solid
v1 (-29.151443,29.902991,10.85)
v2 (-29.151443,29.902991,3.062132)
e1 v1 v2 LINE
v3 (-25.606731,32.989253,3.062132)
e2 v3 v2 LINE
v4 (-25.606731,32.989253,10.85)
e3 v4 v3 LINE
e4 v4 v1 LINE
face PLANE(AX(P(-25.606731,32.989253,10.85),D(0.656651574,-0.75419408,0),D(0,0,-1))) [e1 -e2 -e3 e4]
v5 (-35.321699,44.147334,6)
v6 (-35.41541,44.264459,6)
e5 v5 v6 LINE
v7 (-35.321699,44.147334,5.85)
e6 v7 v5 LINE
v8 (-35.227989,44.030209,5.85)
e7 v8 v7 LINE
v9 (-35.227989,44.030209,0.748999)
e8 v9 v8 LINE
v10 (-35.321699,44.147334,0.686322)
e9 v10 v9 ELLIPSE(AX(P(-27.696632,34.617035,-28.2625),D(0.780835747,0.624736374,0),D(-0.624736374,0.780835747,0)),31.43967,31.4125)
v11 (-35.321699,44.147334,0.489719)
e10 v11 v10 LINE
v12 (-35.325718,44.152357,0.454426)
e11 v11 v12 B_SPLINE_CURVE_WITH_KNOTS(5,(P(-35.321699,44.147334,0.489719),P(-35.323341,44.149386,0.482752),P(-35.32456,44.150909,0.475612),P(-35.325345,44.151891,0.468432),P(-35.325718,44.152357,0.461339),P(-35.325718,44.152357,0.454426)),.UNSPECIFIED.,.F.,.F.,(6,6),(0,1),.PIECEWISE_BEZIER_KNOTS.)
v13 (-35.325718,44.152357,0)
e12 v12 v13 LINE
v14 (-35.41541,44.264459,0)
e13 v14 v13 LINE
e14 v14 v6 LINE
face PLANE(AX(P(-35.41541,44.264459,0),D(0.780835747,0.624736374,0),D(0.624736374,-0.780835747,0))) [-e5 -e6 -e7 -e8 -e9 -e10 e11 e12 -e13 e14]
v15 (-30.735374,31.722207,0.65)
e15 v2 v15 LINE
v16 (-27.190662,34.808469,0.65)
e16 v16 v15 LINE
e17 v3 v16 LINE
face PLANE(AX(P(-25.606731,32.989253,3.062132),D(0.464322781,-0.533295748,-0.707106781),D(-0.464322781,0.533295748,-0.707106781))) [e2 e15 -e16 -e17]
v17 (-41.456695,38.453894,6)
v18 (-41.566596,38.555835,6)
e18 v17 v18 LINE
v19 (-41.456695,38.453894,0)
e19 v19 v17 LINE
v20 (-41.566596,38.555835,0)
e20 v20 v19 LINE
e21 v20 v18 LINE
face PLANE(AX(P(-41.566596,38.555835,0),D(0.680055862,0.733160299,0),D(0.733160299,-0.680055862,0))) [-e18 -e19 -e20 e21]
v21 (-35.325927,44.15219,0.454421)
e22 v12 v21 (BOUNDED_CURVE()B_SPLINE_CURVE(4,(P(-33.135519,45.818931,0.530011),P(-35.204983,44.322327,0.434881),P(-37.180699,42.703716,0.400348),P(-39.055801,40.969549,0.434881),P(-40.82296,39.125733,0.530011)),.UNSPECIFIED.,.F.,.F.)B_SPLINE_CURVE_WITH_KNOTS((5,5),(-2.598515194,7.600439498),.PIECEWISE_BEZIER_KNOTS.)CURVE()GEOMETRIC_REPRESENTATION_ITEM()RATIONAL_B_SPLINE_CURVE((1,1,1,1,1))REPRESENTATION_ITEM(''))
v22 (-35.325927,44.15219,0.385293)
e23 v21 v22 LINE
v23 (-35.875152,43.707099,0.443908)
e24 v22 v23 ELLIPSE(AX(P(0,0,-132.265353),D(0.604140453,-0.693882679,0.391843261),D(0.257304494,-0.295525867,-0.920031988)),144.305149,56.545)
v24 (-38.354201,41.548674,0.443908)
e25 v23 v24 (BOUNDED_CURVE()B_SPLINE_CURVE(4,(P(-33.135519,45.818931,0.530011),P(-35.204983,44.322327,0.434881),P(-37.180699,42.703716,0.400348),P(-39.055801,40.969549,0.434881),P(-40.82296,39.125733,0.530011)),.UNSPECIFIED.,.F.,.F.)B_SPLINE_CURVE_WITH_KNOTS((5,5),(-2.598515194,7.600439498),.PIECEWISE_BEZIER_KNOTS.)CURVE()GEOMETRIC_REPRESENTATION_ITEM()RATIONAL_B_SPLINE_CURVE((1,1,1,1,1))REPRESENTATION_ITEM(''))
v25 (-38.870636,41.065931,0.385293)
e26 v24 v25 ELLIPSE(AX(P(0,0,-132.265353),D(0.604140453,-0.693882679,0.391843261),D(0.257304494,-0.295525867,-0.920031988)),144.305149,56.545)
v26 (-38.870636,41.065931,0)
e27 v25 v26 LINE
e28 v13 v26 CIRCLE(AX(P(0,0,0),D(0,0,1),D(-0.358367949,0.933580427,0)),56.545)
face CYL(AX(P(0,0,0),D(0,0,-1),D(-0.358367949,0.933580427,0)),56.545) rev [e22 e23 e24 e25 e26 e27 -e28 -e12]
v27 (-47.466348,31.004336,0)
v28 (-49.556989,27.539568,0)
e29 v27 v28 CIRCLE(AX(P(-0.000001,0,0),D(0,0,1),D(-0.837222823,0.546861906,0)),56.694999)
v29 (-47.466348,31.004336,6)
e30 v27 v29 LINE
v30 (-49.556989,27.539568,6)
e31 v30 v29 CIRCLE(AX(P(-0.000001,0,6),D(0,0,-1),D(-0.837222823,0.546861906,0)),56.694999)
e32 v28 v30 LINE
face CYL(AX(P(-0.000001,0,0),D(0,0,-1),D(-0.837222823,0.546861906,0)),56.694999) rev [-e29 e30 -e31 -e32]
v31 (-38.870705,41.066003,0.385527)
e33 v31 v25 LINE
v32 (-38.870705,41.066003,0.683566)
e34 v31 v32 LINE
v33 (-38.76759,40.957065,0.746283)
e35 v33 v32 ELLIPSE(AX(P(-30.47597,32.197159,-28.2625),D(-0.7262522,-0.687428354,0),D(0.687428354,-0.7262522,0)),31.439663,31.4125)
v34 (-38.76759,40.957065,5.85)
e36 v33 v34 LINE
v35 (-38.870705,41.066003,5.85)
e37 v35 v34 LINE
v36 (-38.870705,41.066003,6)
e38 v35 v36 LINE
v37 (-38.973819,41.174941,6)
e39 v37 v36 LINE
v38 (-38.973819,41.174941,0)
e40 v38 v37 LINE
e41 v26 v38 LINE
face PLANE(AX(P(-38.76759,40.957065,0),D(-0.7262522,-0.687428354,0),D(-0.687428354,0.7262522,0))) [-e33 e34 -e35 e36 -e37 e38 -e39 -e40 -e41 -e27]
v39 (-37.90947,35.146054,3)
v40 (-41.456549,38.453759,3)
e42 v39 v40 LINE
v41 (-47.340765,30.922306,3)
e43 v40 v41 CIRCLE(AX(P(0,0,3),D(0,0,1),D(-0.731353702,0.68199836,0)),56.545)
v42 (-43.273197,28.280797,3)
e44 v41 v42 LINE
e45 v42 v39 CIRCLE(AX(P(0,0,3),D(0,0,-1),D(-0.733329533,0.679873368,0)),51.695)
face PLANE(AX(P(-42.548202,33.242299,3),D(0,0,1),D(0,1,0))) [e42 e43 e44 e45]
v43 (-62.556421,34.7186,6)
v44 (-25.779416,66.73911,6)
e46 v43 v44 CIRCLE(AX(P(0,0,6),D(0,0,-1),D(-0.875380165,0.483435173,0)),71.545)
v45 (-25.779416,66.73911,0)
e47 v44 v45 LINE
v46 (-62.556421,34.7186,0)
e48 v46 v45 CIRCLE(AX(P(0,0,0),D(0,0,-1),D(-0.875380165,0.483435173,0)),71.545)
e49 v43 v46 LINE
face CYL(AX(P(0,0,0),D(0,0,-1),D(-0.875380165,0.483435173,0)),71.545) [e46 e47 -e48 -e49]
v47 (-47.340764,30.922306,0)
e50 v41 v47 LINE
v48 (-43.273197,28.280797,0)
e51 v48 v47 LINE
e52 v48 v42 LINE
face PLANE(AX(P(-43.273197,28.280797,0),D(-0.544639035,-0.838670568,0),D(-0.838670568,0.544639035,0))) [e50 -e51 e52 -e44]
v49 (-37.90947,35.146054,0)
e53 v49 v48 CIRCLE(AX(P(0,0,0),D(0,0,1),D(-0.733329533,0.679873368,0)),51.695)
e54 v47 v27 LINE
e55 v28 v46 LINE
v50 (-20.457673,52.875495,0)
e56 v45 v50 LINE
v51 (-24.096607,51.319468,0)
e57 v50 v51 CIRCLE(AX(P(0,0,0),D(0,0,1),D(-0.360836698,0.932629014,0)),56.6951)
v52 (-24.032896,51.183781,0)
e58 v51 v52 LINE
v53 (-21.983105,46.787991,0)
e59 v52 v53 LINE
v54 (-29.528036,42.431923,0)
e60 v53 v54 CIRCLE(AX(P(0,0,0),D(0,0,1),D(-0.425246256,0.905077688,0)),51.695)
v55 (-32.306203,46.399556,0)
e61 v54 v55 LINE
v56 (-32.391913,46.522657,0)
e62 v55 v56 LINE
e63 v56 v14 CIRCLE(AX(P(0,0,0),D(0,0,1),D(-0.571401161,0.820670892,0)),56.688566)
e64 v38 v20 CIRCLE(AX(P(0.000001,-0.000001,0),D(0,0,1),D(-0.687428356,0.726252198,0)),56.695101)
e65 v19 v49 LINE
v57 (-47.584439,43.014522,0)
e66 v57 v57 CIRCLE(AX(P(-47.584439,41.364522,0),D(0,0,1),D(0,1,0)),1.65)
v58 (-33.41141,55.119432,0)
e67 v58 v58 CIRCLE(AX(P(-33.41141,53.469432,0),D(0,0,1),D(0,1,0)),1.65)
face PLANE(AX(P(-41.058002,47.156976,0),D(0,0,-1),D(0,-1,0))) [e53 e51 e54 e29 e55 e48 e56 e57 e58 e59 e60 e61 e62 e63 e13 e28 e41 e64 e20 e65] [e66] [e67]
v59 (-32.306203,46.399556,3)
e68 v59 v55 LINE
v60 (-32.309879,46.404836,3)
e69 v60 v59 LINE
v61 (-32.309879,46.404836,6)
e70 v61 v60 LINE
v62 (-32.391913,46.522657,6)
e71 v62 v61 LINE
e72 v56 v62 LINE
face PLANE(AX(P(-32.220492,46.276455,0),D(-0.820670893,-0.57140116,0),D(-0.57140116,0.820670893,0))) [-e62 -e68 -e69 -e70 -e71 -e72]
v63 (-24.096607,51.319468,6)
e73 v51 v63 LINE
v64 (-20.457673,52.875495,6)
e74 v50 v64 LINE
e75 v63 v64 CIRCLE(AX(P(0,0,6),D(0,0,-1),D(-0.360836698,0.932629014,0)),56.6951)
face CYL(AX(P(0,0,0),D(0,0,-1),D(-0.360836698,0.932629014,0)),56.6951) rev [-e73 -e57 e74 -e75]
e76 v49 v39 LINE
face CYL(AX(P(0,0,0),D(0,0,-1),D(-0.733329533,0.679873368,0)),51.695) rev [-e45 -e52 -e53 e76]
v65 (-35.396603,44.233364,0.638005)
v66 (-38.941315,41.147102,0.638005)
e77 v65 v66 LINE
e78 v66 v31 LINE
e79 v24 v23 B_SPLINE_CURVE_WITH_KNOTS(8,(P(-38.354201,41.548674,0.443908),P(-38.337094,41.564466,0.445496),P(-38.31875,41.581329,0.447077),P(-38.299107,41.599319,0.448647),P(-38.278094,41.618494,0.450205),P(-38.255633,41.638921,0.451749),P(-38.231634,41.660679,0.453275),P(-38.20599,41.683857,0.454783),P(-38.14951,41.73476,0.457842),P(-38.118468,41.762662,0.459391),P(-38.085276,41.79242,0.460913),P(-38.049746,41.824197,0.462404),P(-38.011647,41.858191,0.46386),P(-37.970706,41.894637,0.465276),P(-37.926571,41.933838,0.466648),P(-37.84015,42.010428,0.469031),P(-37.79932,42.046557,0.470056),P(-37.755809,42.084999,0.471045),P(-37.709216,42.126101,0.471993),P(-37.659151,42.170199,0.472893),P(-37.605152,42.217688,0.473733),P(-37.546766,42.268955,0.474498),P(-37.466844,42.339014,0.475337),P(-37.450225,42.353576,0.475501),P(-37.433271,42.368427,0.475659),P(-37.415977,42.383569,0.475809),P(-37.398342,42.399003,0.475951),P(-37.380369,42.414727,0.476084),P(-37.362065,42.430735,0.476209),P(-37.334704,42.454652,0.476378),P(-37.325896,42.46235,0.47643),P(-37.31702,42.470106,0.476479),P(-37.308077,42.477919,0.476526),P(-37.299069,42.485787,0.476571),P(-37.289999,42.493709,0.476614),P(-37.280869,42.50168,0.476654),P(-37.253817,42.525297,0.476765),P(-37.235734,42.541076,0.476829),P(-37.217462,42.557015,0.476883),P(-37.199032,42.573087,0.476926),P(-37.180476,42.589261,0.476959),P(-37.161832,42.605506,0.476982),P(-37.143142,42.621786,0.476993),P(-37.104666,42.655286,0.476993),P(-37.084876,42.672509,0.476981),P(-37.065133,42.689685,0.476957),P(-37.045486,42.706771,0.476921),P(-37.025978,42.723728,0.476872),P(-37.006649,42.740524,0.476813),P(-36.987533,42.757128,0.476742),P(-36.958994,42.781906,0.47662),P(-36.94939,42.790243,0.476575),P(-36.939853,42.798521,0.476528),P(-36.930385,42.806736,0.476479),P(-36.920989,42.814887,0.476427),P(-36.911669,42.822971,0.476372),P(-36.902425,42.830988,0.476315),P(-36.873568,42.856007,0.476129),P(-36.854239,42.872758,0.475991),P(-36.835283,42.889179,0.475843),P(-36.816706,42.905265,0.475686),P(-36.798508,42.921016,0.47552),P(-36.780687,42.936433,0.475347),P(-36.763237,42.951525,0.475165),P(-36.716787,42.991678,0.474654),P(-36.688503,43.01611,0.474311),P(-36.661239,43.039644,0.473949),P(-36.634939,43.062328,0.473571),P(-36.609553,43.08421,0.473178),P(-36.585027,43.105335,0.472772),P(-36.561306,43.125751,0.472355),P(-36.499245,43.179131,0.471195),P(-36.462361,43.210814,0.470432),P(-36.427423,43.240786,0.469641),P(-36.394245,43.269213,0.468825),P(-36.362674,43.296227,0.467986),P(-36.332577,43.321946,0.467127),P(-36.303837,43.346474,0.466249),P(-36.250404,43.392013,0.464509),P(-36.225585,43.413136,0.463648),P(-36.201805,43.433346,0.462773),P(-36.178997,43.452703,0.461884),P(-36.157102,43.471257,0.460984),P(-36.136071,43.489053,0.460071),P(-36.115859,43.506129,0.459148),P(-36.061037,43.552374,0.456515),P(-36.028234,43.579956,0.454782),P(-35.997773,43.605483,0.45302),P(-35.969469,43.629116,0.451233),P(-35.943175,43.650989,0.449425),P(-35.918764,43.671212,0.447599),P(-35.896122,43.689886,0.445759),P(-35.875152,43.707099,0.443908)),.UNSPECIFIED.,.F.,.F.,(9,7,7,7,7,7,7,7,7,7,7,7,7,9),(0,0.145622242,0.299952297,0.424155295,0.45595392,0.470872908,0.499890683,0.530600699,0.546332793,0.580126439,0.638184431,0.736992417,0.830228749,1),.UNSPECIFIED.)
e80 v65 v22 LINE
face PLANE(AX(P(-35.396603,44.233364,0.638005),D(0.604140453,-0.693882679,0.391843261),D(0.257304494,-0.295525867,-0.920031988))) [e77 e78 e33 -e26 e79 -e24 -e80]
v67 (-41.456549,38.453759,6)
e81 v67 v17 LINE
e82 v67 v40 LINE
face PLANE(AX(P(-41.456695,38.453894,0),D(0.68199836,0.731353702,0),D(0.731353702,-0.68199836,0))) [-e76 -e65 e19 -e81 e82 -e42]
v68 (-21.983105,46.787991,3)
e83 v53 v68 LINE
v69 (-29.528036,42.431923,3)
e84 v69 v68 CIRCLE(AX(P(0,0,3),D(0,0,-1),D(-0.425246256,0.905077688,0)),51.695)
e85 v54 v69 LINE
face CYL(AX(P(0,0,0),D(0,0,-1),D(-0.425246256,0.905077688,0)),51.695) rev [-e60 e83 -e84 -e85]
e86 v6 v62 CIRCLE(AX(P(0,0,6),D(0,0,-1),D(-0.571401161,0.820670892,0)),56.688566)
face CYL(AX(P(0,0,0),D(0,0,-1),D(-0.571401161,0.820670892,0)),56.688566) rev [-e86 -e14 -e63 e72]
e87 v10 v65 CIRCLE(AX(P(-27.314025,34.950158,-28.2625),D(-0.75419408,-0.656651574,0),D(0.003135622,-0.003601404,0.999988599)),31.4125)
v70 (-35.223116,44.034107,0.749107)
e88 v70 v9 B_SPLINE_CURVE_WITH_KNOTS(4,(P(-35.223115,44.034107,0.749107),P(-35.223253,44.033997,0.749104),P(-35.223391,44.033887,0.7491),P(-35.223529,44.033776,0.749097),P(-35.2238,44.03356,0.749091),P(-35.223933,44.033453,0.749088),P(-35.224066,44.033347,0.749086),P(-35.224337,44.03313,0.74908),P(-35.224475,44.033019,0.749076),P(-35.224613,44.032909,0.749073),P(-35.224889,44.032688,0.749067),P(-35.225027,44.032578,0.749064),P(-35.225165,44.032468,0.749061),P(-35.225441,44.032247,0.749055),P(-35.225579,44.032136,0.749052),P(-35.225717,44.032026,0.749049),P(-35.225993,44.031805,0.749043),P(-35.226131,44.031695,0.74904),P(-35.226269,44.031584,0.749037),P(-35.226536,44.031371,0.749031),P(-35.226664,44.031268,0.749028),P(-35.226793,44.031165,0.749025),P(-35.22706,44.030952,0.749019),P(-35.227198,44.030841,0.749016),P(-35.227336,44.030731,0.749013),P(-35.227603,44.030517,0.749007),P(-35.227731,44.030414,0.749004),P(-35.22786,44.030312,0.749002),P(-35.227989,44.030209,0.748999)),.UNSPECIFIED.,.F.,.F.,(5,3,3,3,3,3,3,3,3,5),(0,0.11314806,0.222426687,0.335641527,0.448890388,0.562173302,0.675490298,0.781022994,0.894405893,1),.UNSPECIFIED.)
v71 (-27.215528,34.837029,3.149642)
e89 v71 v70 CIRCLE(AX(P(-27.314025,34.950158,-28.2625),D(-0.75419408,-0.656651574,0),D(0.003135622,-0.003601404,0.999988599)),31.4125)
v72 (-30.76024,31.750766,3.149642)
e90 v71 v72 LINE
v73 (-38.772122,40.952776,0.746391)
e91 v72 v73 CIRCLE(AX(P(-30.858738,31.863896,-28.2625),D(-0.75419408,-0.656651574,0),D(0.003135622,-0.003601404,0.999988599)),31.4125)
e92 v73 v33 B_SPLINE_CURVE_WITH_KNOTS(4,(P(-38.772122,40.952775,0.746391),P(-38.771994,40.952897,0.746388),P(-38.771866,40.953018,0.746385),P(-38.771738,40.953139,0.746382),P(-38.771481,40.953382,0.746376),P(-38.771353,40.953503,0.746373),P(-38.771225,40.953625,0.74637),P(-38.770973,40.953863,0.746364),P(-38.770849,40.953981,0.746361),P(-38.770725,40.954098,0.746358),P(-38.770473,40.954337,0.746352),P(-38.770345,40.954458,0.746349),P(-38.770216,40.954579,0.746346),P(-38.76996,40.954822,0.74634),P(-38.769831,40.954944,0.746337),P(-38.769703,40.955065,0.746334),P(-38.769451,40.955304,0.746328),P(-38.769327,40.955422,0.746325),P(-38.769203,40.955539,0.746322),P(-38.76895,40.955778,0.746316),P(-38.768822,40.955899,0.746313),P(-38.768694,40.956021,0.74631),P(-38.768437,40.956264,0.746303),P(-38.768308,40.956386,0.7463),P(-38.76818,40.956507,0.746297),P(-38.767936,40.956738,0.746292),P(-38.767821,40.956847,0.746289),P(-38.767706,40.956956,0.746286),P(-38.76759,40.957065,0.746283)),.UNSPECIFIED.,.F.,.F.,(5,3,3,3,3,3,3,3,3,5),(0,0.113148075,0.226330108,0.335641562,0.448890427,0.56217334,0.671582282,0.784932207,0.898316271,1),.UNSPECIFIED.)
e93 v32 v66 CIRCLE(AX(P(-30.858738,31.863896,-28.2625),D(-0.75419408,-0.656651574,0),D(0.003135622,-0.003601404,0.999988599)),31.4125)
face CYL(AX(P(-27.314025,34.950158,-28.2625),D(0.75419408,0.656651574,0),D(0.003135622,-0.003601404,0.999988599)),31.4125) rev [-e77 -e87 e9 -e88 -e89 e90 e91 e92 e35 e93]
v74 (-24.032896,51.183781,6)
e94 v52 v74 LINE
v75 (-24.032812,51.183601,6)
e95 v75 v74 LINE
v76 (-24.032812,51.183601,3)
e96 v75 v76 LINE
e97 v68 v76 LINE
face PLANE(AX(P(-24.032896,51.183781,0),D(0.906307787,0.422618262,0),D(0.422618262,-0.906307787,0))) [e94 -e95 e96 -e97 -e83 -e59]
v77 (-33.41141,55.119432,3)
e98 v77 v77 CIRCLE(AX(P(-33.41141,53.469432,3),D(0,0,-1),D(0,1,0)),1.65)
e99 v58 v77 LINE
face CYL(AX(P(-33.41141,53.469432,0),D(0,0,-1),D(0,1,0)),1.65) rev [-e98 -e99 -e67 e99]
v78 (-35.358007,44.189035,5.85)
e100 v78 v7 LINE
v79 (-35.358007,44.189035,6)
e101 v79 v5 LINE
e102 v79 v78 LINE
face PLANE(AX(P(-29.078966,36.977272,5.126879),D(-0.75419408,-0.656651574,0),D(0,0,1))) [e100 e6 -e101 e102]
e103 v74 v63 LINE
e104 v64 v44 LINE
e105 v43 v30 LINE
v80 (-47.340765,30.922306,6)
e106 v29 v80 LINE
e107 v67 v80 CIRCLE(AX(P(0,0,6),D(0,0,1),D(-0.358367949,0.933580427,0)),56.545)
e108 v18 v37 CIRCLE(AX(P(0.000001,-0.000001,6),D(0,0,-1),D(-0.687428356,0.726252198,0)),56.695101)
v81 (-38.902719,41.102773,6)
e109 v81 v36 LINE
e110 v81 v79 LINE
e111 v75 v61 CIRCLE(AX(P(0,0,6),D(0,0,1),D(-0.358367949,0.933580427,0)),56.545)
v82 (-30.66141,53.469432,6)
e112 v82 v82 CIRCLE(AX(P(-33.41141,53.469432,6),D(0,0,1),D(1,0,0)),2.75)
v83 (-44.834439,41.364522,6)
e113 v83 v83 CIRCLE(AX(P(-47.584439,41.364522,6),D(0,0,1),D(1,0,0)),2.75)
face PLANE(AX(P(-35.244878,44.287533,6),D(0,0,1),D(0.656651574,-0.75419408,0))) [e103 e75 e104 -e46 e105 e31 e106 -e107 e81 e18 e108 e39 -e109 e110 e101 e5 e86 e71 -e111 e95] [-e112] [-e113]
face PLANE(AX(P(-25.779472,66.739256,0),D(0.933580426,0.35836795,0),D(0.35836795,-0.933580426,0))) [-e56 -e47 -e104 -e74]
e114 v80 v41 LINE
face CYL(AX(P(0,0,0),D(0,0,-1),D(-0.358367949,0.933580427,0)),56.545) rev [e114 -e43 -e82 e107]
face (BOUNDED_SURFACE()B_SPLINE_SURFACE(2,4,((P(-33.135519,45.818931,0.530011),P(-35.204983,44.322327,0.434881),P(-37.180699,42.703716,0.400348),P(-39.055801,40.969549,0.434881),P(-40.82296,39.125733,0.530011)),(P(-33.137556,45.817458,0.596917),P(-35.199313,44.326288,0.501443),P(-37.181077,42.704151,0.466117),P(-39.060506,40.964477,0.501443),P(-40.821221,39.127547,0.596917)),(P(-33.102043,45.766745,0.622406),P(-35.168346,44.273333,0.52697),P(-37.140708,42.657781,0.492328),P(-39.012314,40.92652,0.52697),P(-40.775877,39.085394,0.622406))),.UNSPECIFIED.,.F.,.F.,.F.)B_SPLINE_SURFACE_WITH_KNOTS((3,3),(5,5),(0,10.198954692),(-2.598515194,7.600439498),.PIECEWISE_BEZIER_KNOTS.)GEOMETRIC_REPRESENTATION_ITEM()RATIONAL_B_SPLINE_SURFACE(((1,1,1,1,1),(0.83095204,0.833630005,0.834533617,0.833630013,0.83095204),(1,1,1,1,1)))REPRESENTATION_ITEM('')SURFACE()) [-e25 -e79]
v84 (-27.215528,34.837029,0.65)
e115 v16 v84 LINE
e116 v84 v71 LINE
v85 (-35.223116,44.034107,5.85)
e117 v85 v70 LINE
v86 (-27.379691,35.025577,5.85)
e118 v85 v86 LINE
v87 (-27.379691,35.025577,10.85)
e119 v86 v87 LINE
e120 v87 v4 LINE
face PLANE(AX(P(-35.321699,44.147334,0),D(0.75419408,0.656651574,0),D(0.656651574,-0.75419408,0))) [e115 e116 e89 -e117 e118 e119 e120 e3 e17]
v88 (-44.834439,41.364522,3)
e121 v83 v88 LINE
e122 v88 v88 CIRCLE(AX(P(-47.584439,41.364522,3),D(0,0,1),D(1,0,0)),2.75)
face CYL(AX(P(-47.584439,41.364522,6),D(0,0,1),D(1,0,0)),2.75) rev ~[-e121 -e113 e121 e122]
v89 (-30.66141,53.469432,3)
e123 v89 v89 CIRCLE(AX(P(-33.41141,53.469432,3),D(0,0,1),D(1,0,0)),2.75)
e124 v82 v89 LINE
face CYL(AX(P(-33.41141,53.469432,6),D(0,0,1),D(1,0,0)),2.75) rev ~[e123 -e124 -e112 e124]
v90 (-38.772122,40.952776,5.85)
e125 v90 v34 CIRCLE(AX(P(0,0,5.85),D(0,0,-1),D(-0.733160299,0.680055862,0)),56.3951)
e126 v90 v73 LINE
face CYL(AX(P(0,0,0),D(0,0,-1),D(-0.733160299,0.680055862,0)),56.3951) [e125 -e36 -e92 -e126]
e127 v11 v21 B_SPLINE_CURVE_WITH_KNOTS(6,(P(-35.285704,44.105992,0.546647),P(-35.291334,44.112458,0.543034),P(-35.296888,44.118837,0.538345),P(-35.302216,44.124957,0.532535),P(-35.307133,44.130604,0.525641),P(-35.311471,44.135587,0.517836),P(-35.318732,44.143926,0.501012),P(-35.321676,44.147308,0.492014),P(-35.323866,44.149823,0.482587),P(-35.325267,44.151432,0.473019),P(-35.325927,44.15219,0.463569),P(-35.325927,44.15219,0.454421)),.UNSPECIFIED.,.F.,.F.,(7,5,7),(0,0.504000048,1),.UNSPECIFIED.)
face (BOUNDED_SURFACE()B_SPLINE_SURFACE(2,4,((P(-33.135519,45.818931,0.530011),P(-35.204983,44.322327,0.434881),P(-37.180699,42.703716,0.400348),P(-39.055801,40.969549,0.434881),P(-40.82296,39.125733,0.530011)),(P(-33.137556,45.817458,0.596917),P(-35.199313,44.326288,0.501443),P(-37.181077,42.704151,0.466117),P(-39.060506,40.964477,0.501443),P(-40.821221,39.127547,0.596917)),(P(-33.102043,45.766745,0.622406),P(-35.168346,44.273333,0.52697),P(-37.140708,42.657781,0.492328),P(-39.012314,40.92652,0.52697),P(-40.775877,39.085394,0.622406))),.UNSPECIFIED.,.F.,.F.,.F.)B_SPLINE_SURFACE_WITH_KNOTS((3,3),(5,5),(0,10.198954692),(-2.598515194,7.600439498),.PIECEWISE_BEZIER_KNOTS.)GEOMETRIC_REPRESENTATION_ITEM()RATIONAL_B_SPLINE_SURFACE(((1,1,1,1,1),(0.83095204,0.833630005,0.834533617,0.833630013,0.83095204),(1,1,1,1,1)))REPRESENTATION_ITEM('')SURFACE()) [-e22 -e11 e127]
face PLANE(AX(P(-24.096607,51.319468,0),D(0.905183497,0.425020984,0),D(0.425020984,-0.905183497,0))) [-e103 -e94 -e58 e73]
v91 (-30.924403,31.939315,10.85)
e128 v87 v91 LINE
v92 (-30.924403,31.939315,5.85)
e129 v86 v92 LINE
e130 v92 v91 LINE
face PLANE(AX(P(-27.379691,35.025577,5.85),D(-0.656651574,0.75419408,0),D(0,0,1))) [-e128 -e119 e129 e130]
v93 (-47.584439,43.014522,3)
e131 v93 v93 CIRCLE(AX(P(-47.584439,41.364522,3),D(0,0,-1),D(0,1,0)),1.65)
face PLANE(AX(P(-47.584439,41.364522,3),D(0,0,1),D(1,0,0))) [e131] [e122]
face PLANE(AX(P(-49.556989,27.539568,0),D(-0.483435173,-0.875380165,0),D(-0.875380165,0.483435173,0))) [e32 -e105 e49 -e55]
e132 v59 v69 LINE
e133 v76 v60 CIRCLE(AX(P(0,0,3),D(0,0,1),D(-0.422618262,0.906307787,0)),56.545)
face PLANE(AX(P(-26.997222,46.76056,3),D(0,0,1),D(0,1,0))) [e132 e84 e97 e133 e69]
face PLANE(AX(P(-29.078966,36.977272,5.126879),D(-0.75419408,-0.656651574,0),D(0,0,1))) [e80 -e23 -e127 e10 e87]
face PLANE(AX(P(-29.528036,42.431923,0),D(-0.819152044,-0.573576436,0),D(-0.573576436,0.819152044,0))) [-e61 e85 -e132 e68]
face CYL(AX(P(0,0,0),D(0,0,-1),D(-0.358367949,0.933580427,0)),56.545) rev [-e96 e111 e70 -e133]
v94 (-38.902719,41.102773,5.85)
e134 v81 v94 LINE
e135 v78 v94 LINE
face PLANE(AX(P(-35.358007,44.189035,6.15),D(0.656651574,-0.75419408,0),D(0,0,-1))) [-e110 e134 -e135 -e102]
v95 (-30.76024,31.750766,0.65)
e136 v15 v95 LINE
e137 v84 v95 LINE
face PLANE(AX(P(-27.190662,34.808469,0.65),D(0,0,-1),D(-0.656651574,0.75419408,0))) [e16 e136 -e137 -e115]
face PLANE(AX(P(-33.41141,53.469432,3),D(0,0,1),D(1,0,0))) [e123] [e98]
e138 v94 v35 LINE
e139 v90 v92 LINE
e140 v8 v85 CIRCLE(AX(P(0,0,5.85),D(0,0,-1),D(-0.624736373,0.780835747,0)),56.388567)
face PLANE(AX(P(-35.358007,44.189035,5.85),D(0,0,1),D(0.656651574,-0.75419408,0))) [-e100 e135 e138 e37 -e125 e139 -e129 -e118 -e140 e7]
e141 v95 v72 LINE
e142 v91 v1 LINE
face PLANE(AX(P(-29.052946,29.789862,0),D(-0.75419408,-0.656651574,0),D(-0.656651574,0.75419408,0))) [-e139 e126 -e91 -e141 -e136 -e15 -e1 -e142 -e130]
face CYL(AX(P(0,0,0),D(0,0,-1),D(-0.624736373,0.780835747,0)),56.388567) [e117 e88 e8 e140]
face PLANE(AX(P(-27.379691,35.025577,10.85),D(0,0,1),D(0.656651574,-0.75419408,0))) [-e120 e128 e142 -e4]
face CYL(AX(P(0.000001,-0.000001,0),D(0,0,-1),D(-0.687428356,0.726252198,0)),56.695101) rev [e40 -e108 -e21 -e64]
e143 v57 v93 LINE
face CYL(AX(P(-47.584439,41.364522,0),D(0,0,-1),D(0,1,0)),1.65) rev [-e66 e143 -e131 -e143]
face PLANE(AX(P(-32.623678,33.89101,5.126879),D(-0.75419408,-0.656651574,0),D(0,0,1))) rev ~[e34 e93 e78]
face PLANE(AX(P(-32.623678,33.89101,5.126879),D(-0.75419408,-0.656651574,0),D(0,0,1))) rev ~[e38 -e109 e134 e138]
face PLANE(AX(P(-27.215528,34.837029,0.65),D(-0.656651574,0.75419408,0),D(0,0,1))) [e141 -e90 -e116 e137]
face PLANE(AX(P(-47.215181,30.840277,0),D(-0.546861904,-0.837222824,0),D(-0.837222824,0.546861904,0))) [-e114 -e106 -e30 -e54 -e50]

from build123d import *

# Parameters (mm, degrees)
BOSS_EXTRUDE1_DEPTH      = 6
SKETCH4_R                = 1.65
CUT_EXTRUDE1_DEPTH       = 92.758963041
BOSS_EXTRUDE2_DEPTH      = 2.5
BOSS_EXTRUDE2_DEPTH_BACK = 2.5
FILLET1_R                = 0.1
BOSS_EXTRUDE3_DEPTH      = 3
SKETCH9_R                = 2.75
CUT_EXTRUDE2_DEPTH       = 3
TOLERANCECUT_DEPTH       = 93.220969961
TOLERANCECUT2_DEPTH      = 2.35
TOLERANCECUT2_DEPTH_BACK = 2.35
CUT_EXTRUDE_THIN1_DEPTH  = 10


with BuildPart() as part:
    # Sketch1 → Boss-Extrude1 (new body)
    with BuildSketch(Plane(origin=(0, 0, 0), x_dir=(0, 1, 0), z_dir=(0, 0, 1))):
        with BuildLine():
            Line((66.793011614, 25.63943495), (52.789305216, 20.263915707))
            ThreePointArc((52.789305216, 20.263915707), (42.645904251, 37.130363258), (27.335841873, 49.498371429))
            Line((27.335841873, 49.498371429), (34.587369472, 62.629073903))
            ThreePointArc((34.587369472, 62.629073903), (53.95881545, 46.980136869), (66.793011614, 25.63943495))
        make_face()
    extrude(amount=BOSS_EXTRUDE1_DEPTH)

    # Sketch4 → Cut-Extrude1 (cut, through all)
    with BuildSketch(Plane(origin=(0, 0, 0), x_dir=(0, 1, 0), z_dir=(0, 0, 1))):
        with Locations((41.364521778, 47.584439033)):
            Circle(SKETCH4_R)
        with Locations((53.469432463, 33.41140961)):
            Circle(SKETCH4_R)
    extrude(amount=CUT_EXTRUDE1_DEPTH, mode=Mode.SUBTRACT)

    # Sketch7 → Boss-Extrude2 (add, two sides: drawn at the far end of the back side and taken through both)
    with BuildSketch(Plane(origin=(0, 0, 0), x_dir=(0, 0, 1), z_dir=(-0.7541940799479068, -0.6566515741026824, 0)).offset(-BOSS_EXTRUDE2_DEPTH_BACK)):
        with BuildLine():
            Line((6, 41.545), (3, 41.545))
            Line((3, 41.545), (0.5, 44.045))
            Line((0.5, 44.045), (0.5, 44.295))
            Line((0.5, 44.295), (3, 44.295))
            ThreePointArc((3, 44.295), (2.368624388, 50.546249875), (0.5, 56.545))
            Line((0.5, 56.545), (6, 56.545))
            Line((6, 56.545), (6, 44.545))
            Line((6, 44.545), (11, 44.545))
            Line((11, 44.545), (11, 41.545))
            Line((11, 41.545), (6, 41.545))
        make_face()
    extrude(amount=BOSS_EXTRUDE2_DEPTH + BOSS_EXTRUDE2_DEPTH_BACK)

    # Fillet1
    fillet1_edges = [part.edges().sort_by_distance(p)[0] for p in [
        (-29.086381475, 33.407026771, 3),
        (-29.250544368, 33.595575291, 6),
        (-37.130363258, 42.645904251, 0.5),
    ]]
    fillet(fillet1_edges, radius=FILLET1_R)

    # Sketch8 → Boss-Extrude3 (add)
    with BuildSketch(Plane(origin=(0, 0, 0), x_dir=(0, 1, 0), z_dir=(0, 0, 1))):
        with BuildLine():
            ThreePointArc((38.56359727, 41.354395058), (34.812578122, 44.558068063), (30.796614235, 47.422627264))
            Line((30.796614235, 47.422627264), (28.07341906, 43.229274425))
            ThreePointArc((28.07341906, 43.229274425), (31.734270746, 40.618014295), (35.153605469, 37.69762655))
            Line((35.153605469, 37.69762655), (38.56359727, 41.354395058))
        make_face()
        with BuildLine():
            ThreePointArc((51.247173818, 23.89694961), (48.969406457, 28.2725), (46.318952344, 32.432879593))
            Line((46.318952344, 32.432879593), (42.223192123, 29.564997412))
            ThreePointArc((42.223192123, 29.564997412), (44.639279438, 25.7725), (46.715634883, 21.783858301))
            Line((46.715634883, 21.783858301), (51.247173818, 23.89694961))
        make_face()
    extrude(amount=BOSS_EXTRUDE3_DEPTH)

    # Sketch9 → Cut-Extrude2 (cut)
    with BuildSketch(Plane.XY.offset(6)):
        with Locations((-47.584439033, 41.364521778)):
            Circle(SKETCH9_R)
        with Locations((-33.41140961, 53.469432463)):
            Circle(SKETCH9_R)
    extrude(amount=-CUT_EXTRUDE2_DEPTH, mode=Mode.SUBTRACT)

    # Sketch10 → ToleranceCut (cut, through all)
    with BuildSketch(Plane(origin=(0, 0, 0), x_dir=(0, 1, 0), z_dir=(0, 0, 1))):
        with BuildLine():
            Line((38.453894214, 41.456694812), (35.14605375, 37.9094702))
            ThreePointArc((35.14605375, 37.9094702), (31.826619967, 40.736215908), (28.280796974, 43.273196641))
            Line((28.280796974, 43.273196641), (30.92241482, 47.340931409))
            Line((30.92241482, 47.340931409), (30.67081365, 47.50432312))
            Line((30.67081365, 47.50432312), (27.865803402, 43.184986115))
            ThreePointArc((27.865803402, 43.184986115), (31.641921524, 40.499812682), (35.160859486, 37.485463652))
            Line((35.160859486, 37.485463652), (38.673300325, 41.252095304))
            Line((38.673300325, 41.252095304), (38.453894214, 41.456694812))
        make_face()
        with BuildLine():
            Line((46.232915879, 32.5557524), (42.014103544, 29.601708201))
            ThreePointArc((42.014103544, 29.601708201), (44.509375628, 25.6975), (46.642883069, 21.584426886))
            Line((46.642883069, 21.584426886), (51.310566557, 23.761003442))
            Line((51.310566557, 23.761003442), (51.183781079, 24.032895778))
            Line((51.183781079, 24.032895778), (46.787991078, 21.983105237))
            ThreePointArc((46.787991078, 21.983105237), (44.769183249, 25.8475), (42.431923129, 29.528036247))
            Line((42.431923129, 29.528036247), (46.40498881, 32.310006787))
            Line((46.40498881, 32.310006787), (46.232915879, 32.5557524))
        make_face()
        Polygon((44.147333984, 35.321699097), (32.876124251, 25.508233558), (33.073119723, 25.281975334), (44.344329456, 35.095440873), align=None)
        Polygon((40.817854097, 39.052425533), (29.59286638, 29.279203958), (29.789861852, 29.052945734), (41.014849569, 38.826167309), align=None)
    extrude(amount=TOLERANCECUT_DEPTH, mode=Mode.SUBTRACT)

    # Sketch16 → ToleranceCut2 (cut, two sides: drawn at the far end of the back side and taken through both)
    with BuildSketch(Plane(origin=(0, 0, 0), x_dir=(0, 0, 1), z_dir=(-0.7541940799479068, -0.6566515741026824, 0)).offset(-TOLERANCECUT2_DEPTH_BACK)):
        with BuildLine():
            Line((5.85, 56.545), (5.85, 44.395))
            Line((5.85, 44.395), (10.85, 44.395))
            Line((10.85, 44.395), (10.85, 41.695))
            Line((10.85, 41.695), (6, 41.695))
            Line((6, 41.695), (3.062132034, 41.695))
            Line((3.062132034, 41.695), (0.65, 44.107132034))
            Line((0.65, 44.107132034), (0.65, 44.145))
            Line((0.65, 44.145), (3.14964186, 44.145))
            ThreePointArc((3.14964186, 44.145), (2.530504313, 50.50274046), (0.638004798, 56.603776489))
            Line((0.638004798, 56.603776489), (0.361995202, 56.486223511))
            ThreePointArc((0.361995202, 56.486223511), (2.206568162, 50.589723315), (2.849638407, 44.445))
            Line((2.849638407, 44.445), (0.35, 44.445))
            Line((0.35, 44.445), (0.35, 43.982867966))
            Line((0.35, 43.982867966), (2.937867966, 41.395))
            Line((2.937867966, 41.395), (6, 41.395))
            Line((6, 41.395), (11.15, 41.395))
            Line((11.15, 41.395), (11.15, 44.695))
            Line((11.15, 44.695), (6.15, 44.695))
            Line((6.15, 44.695), (6.15, 56.545))
            Line((6.15, 56.545), (5.85, 56.545))
        make_face()
    extrude(amount=TOLERANCECUT2_DEPTH + TOLERANCECUT2_DEPTH_BACK, mode=Mode.SUBTRACT)

    # Sketch17 → Cut-Extrude-Thin1 (cut)
    with BuildSketch(Plane(origin=(0, 0, 0), x_dir=(0, 1, 0), z_dir=(0, 0, 1))):
        with BuildLine():
            ThreePointArc((51.047913396, 23.969100589), (51.912040519, 22.035137719), (52.70292998, 20.070087611))
            Line((52.70292998, 20.070087611), (66.846766806, 25.499397886))
            Line((66.846766806, 25.499397886), (66.739256421, 25.779472014))
            Line((66.739256421, 25.779472014), (52.875494708, 20.457672502))
            ThreePointArc((52.875494708, 20.457672502), (52.129243688, 22.290721328), (51.319468445, 24.096606884))
            Line((51.319468445, 24.096606884), (51.047913396, 23.969100589))
        make_face()
        with BuildLine():
            ThreePointArc((31.004335746, 47.466347973), (29.290610597, 48.542591153), (27.539568245, 49.556989475))
            Line((27.539568245, 49.556989475), (34.718676497, 62.556558627))
            Line((34.718676497, 62.556558627), (34.456062447, 62.701589179))
            Line((34.456062447, 62.701589179), (27.131923134, 49.439405054))
            ThreePointArc((27.131923134, 49.439405054), (29.007426552, 48.362849687), (30.840277175, 47.215181126))
            Line((30.840277175, 47.215181126), (31.004335746, 47.466347973))
        make_face()
        with BuildLine():
            ThreePointArc((38.351817991, 41.346648013), (39.675403143, 40.078293758), (40.957064996, 38.767590486))
            Line((40.957064996, 38.767590486), (41.174940656, 38.973818992))
            ThreePointArc((41.174940656, 38.973818992), (39.88646086, 40.291494696), (38.55583475, 41.566596103))
            Line((38.55583475, 41.566596103), (38.351817991, 41.346648013))
        make_face()
        with BuildLine():
            ThreePointArc((44.030208622, 35.227988641), (45.178364811, 33.742937157), (46.276455334, 32.220492496))
            Line((46.276455334, 32.220492496), (46.522656602, 32.391912844))
            ThreePointArc((46.522656602, 32.391912844), (45.418723987, 33.922457258), (44.264459346, 35.415409553))
            Line((44.264459346, 35.415409553), (44.030208622, 35.227988641))
        make_face()
    extrude(amount=CUT_EXTRUDE_THIN1_DEPTH, mode=Mode.SUBTRACT)


solid = part.part
